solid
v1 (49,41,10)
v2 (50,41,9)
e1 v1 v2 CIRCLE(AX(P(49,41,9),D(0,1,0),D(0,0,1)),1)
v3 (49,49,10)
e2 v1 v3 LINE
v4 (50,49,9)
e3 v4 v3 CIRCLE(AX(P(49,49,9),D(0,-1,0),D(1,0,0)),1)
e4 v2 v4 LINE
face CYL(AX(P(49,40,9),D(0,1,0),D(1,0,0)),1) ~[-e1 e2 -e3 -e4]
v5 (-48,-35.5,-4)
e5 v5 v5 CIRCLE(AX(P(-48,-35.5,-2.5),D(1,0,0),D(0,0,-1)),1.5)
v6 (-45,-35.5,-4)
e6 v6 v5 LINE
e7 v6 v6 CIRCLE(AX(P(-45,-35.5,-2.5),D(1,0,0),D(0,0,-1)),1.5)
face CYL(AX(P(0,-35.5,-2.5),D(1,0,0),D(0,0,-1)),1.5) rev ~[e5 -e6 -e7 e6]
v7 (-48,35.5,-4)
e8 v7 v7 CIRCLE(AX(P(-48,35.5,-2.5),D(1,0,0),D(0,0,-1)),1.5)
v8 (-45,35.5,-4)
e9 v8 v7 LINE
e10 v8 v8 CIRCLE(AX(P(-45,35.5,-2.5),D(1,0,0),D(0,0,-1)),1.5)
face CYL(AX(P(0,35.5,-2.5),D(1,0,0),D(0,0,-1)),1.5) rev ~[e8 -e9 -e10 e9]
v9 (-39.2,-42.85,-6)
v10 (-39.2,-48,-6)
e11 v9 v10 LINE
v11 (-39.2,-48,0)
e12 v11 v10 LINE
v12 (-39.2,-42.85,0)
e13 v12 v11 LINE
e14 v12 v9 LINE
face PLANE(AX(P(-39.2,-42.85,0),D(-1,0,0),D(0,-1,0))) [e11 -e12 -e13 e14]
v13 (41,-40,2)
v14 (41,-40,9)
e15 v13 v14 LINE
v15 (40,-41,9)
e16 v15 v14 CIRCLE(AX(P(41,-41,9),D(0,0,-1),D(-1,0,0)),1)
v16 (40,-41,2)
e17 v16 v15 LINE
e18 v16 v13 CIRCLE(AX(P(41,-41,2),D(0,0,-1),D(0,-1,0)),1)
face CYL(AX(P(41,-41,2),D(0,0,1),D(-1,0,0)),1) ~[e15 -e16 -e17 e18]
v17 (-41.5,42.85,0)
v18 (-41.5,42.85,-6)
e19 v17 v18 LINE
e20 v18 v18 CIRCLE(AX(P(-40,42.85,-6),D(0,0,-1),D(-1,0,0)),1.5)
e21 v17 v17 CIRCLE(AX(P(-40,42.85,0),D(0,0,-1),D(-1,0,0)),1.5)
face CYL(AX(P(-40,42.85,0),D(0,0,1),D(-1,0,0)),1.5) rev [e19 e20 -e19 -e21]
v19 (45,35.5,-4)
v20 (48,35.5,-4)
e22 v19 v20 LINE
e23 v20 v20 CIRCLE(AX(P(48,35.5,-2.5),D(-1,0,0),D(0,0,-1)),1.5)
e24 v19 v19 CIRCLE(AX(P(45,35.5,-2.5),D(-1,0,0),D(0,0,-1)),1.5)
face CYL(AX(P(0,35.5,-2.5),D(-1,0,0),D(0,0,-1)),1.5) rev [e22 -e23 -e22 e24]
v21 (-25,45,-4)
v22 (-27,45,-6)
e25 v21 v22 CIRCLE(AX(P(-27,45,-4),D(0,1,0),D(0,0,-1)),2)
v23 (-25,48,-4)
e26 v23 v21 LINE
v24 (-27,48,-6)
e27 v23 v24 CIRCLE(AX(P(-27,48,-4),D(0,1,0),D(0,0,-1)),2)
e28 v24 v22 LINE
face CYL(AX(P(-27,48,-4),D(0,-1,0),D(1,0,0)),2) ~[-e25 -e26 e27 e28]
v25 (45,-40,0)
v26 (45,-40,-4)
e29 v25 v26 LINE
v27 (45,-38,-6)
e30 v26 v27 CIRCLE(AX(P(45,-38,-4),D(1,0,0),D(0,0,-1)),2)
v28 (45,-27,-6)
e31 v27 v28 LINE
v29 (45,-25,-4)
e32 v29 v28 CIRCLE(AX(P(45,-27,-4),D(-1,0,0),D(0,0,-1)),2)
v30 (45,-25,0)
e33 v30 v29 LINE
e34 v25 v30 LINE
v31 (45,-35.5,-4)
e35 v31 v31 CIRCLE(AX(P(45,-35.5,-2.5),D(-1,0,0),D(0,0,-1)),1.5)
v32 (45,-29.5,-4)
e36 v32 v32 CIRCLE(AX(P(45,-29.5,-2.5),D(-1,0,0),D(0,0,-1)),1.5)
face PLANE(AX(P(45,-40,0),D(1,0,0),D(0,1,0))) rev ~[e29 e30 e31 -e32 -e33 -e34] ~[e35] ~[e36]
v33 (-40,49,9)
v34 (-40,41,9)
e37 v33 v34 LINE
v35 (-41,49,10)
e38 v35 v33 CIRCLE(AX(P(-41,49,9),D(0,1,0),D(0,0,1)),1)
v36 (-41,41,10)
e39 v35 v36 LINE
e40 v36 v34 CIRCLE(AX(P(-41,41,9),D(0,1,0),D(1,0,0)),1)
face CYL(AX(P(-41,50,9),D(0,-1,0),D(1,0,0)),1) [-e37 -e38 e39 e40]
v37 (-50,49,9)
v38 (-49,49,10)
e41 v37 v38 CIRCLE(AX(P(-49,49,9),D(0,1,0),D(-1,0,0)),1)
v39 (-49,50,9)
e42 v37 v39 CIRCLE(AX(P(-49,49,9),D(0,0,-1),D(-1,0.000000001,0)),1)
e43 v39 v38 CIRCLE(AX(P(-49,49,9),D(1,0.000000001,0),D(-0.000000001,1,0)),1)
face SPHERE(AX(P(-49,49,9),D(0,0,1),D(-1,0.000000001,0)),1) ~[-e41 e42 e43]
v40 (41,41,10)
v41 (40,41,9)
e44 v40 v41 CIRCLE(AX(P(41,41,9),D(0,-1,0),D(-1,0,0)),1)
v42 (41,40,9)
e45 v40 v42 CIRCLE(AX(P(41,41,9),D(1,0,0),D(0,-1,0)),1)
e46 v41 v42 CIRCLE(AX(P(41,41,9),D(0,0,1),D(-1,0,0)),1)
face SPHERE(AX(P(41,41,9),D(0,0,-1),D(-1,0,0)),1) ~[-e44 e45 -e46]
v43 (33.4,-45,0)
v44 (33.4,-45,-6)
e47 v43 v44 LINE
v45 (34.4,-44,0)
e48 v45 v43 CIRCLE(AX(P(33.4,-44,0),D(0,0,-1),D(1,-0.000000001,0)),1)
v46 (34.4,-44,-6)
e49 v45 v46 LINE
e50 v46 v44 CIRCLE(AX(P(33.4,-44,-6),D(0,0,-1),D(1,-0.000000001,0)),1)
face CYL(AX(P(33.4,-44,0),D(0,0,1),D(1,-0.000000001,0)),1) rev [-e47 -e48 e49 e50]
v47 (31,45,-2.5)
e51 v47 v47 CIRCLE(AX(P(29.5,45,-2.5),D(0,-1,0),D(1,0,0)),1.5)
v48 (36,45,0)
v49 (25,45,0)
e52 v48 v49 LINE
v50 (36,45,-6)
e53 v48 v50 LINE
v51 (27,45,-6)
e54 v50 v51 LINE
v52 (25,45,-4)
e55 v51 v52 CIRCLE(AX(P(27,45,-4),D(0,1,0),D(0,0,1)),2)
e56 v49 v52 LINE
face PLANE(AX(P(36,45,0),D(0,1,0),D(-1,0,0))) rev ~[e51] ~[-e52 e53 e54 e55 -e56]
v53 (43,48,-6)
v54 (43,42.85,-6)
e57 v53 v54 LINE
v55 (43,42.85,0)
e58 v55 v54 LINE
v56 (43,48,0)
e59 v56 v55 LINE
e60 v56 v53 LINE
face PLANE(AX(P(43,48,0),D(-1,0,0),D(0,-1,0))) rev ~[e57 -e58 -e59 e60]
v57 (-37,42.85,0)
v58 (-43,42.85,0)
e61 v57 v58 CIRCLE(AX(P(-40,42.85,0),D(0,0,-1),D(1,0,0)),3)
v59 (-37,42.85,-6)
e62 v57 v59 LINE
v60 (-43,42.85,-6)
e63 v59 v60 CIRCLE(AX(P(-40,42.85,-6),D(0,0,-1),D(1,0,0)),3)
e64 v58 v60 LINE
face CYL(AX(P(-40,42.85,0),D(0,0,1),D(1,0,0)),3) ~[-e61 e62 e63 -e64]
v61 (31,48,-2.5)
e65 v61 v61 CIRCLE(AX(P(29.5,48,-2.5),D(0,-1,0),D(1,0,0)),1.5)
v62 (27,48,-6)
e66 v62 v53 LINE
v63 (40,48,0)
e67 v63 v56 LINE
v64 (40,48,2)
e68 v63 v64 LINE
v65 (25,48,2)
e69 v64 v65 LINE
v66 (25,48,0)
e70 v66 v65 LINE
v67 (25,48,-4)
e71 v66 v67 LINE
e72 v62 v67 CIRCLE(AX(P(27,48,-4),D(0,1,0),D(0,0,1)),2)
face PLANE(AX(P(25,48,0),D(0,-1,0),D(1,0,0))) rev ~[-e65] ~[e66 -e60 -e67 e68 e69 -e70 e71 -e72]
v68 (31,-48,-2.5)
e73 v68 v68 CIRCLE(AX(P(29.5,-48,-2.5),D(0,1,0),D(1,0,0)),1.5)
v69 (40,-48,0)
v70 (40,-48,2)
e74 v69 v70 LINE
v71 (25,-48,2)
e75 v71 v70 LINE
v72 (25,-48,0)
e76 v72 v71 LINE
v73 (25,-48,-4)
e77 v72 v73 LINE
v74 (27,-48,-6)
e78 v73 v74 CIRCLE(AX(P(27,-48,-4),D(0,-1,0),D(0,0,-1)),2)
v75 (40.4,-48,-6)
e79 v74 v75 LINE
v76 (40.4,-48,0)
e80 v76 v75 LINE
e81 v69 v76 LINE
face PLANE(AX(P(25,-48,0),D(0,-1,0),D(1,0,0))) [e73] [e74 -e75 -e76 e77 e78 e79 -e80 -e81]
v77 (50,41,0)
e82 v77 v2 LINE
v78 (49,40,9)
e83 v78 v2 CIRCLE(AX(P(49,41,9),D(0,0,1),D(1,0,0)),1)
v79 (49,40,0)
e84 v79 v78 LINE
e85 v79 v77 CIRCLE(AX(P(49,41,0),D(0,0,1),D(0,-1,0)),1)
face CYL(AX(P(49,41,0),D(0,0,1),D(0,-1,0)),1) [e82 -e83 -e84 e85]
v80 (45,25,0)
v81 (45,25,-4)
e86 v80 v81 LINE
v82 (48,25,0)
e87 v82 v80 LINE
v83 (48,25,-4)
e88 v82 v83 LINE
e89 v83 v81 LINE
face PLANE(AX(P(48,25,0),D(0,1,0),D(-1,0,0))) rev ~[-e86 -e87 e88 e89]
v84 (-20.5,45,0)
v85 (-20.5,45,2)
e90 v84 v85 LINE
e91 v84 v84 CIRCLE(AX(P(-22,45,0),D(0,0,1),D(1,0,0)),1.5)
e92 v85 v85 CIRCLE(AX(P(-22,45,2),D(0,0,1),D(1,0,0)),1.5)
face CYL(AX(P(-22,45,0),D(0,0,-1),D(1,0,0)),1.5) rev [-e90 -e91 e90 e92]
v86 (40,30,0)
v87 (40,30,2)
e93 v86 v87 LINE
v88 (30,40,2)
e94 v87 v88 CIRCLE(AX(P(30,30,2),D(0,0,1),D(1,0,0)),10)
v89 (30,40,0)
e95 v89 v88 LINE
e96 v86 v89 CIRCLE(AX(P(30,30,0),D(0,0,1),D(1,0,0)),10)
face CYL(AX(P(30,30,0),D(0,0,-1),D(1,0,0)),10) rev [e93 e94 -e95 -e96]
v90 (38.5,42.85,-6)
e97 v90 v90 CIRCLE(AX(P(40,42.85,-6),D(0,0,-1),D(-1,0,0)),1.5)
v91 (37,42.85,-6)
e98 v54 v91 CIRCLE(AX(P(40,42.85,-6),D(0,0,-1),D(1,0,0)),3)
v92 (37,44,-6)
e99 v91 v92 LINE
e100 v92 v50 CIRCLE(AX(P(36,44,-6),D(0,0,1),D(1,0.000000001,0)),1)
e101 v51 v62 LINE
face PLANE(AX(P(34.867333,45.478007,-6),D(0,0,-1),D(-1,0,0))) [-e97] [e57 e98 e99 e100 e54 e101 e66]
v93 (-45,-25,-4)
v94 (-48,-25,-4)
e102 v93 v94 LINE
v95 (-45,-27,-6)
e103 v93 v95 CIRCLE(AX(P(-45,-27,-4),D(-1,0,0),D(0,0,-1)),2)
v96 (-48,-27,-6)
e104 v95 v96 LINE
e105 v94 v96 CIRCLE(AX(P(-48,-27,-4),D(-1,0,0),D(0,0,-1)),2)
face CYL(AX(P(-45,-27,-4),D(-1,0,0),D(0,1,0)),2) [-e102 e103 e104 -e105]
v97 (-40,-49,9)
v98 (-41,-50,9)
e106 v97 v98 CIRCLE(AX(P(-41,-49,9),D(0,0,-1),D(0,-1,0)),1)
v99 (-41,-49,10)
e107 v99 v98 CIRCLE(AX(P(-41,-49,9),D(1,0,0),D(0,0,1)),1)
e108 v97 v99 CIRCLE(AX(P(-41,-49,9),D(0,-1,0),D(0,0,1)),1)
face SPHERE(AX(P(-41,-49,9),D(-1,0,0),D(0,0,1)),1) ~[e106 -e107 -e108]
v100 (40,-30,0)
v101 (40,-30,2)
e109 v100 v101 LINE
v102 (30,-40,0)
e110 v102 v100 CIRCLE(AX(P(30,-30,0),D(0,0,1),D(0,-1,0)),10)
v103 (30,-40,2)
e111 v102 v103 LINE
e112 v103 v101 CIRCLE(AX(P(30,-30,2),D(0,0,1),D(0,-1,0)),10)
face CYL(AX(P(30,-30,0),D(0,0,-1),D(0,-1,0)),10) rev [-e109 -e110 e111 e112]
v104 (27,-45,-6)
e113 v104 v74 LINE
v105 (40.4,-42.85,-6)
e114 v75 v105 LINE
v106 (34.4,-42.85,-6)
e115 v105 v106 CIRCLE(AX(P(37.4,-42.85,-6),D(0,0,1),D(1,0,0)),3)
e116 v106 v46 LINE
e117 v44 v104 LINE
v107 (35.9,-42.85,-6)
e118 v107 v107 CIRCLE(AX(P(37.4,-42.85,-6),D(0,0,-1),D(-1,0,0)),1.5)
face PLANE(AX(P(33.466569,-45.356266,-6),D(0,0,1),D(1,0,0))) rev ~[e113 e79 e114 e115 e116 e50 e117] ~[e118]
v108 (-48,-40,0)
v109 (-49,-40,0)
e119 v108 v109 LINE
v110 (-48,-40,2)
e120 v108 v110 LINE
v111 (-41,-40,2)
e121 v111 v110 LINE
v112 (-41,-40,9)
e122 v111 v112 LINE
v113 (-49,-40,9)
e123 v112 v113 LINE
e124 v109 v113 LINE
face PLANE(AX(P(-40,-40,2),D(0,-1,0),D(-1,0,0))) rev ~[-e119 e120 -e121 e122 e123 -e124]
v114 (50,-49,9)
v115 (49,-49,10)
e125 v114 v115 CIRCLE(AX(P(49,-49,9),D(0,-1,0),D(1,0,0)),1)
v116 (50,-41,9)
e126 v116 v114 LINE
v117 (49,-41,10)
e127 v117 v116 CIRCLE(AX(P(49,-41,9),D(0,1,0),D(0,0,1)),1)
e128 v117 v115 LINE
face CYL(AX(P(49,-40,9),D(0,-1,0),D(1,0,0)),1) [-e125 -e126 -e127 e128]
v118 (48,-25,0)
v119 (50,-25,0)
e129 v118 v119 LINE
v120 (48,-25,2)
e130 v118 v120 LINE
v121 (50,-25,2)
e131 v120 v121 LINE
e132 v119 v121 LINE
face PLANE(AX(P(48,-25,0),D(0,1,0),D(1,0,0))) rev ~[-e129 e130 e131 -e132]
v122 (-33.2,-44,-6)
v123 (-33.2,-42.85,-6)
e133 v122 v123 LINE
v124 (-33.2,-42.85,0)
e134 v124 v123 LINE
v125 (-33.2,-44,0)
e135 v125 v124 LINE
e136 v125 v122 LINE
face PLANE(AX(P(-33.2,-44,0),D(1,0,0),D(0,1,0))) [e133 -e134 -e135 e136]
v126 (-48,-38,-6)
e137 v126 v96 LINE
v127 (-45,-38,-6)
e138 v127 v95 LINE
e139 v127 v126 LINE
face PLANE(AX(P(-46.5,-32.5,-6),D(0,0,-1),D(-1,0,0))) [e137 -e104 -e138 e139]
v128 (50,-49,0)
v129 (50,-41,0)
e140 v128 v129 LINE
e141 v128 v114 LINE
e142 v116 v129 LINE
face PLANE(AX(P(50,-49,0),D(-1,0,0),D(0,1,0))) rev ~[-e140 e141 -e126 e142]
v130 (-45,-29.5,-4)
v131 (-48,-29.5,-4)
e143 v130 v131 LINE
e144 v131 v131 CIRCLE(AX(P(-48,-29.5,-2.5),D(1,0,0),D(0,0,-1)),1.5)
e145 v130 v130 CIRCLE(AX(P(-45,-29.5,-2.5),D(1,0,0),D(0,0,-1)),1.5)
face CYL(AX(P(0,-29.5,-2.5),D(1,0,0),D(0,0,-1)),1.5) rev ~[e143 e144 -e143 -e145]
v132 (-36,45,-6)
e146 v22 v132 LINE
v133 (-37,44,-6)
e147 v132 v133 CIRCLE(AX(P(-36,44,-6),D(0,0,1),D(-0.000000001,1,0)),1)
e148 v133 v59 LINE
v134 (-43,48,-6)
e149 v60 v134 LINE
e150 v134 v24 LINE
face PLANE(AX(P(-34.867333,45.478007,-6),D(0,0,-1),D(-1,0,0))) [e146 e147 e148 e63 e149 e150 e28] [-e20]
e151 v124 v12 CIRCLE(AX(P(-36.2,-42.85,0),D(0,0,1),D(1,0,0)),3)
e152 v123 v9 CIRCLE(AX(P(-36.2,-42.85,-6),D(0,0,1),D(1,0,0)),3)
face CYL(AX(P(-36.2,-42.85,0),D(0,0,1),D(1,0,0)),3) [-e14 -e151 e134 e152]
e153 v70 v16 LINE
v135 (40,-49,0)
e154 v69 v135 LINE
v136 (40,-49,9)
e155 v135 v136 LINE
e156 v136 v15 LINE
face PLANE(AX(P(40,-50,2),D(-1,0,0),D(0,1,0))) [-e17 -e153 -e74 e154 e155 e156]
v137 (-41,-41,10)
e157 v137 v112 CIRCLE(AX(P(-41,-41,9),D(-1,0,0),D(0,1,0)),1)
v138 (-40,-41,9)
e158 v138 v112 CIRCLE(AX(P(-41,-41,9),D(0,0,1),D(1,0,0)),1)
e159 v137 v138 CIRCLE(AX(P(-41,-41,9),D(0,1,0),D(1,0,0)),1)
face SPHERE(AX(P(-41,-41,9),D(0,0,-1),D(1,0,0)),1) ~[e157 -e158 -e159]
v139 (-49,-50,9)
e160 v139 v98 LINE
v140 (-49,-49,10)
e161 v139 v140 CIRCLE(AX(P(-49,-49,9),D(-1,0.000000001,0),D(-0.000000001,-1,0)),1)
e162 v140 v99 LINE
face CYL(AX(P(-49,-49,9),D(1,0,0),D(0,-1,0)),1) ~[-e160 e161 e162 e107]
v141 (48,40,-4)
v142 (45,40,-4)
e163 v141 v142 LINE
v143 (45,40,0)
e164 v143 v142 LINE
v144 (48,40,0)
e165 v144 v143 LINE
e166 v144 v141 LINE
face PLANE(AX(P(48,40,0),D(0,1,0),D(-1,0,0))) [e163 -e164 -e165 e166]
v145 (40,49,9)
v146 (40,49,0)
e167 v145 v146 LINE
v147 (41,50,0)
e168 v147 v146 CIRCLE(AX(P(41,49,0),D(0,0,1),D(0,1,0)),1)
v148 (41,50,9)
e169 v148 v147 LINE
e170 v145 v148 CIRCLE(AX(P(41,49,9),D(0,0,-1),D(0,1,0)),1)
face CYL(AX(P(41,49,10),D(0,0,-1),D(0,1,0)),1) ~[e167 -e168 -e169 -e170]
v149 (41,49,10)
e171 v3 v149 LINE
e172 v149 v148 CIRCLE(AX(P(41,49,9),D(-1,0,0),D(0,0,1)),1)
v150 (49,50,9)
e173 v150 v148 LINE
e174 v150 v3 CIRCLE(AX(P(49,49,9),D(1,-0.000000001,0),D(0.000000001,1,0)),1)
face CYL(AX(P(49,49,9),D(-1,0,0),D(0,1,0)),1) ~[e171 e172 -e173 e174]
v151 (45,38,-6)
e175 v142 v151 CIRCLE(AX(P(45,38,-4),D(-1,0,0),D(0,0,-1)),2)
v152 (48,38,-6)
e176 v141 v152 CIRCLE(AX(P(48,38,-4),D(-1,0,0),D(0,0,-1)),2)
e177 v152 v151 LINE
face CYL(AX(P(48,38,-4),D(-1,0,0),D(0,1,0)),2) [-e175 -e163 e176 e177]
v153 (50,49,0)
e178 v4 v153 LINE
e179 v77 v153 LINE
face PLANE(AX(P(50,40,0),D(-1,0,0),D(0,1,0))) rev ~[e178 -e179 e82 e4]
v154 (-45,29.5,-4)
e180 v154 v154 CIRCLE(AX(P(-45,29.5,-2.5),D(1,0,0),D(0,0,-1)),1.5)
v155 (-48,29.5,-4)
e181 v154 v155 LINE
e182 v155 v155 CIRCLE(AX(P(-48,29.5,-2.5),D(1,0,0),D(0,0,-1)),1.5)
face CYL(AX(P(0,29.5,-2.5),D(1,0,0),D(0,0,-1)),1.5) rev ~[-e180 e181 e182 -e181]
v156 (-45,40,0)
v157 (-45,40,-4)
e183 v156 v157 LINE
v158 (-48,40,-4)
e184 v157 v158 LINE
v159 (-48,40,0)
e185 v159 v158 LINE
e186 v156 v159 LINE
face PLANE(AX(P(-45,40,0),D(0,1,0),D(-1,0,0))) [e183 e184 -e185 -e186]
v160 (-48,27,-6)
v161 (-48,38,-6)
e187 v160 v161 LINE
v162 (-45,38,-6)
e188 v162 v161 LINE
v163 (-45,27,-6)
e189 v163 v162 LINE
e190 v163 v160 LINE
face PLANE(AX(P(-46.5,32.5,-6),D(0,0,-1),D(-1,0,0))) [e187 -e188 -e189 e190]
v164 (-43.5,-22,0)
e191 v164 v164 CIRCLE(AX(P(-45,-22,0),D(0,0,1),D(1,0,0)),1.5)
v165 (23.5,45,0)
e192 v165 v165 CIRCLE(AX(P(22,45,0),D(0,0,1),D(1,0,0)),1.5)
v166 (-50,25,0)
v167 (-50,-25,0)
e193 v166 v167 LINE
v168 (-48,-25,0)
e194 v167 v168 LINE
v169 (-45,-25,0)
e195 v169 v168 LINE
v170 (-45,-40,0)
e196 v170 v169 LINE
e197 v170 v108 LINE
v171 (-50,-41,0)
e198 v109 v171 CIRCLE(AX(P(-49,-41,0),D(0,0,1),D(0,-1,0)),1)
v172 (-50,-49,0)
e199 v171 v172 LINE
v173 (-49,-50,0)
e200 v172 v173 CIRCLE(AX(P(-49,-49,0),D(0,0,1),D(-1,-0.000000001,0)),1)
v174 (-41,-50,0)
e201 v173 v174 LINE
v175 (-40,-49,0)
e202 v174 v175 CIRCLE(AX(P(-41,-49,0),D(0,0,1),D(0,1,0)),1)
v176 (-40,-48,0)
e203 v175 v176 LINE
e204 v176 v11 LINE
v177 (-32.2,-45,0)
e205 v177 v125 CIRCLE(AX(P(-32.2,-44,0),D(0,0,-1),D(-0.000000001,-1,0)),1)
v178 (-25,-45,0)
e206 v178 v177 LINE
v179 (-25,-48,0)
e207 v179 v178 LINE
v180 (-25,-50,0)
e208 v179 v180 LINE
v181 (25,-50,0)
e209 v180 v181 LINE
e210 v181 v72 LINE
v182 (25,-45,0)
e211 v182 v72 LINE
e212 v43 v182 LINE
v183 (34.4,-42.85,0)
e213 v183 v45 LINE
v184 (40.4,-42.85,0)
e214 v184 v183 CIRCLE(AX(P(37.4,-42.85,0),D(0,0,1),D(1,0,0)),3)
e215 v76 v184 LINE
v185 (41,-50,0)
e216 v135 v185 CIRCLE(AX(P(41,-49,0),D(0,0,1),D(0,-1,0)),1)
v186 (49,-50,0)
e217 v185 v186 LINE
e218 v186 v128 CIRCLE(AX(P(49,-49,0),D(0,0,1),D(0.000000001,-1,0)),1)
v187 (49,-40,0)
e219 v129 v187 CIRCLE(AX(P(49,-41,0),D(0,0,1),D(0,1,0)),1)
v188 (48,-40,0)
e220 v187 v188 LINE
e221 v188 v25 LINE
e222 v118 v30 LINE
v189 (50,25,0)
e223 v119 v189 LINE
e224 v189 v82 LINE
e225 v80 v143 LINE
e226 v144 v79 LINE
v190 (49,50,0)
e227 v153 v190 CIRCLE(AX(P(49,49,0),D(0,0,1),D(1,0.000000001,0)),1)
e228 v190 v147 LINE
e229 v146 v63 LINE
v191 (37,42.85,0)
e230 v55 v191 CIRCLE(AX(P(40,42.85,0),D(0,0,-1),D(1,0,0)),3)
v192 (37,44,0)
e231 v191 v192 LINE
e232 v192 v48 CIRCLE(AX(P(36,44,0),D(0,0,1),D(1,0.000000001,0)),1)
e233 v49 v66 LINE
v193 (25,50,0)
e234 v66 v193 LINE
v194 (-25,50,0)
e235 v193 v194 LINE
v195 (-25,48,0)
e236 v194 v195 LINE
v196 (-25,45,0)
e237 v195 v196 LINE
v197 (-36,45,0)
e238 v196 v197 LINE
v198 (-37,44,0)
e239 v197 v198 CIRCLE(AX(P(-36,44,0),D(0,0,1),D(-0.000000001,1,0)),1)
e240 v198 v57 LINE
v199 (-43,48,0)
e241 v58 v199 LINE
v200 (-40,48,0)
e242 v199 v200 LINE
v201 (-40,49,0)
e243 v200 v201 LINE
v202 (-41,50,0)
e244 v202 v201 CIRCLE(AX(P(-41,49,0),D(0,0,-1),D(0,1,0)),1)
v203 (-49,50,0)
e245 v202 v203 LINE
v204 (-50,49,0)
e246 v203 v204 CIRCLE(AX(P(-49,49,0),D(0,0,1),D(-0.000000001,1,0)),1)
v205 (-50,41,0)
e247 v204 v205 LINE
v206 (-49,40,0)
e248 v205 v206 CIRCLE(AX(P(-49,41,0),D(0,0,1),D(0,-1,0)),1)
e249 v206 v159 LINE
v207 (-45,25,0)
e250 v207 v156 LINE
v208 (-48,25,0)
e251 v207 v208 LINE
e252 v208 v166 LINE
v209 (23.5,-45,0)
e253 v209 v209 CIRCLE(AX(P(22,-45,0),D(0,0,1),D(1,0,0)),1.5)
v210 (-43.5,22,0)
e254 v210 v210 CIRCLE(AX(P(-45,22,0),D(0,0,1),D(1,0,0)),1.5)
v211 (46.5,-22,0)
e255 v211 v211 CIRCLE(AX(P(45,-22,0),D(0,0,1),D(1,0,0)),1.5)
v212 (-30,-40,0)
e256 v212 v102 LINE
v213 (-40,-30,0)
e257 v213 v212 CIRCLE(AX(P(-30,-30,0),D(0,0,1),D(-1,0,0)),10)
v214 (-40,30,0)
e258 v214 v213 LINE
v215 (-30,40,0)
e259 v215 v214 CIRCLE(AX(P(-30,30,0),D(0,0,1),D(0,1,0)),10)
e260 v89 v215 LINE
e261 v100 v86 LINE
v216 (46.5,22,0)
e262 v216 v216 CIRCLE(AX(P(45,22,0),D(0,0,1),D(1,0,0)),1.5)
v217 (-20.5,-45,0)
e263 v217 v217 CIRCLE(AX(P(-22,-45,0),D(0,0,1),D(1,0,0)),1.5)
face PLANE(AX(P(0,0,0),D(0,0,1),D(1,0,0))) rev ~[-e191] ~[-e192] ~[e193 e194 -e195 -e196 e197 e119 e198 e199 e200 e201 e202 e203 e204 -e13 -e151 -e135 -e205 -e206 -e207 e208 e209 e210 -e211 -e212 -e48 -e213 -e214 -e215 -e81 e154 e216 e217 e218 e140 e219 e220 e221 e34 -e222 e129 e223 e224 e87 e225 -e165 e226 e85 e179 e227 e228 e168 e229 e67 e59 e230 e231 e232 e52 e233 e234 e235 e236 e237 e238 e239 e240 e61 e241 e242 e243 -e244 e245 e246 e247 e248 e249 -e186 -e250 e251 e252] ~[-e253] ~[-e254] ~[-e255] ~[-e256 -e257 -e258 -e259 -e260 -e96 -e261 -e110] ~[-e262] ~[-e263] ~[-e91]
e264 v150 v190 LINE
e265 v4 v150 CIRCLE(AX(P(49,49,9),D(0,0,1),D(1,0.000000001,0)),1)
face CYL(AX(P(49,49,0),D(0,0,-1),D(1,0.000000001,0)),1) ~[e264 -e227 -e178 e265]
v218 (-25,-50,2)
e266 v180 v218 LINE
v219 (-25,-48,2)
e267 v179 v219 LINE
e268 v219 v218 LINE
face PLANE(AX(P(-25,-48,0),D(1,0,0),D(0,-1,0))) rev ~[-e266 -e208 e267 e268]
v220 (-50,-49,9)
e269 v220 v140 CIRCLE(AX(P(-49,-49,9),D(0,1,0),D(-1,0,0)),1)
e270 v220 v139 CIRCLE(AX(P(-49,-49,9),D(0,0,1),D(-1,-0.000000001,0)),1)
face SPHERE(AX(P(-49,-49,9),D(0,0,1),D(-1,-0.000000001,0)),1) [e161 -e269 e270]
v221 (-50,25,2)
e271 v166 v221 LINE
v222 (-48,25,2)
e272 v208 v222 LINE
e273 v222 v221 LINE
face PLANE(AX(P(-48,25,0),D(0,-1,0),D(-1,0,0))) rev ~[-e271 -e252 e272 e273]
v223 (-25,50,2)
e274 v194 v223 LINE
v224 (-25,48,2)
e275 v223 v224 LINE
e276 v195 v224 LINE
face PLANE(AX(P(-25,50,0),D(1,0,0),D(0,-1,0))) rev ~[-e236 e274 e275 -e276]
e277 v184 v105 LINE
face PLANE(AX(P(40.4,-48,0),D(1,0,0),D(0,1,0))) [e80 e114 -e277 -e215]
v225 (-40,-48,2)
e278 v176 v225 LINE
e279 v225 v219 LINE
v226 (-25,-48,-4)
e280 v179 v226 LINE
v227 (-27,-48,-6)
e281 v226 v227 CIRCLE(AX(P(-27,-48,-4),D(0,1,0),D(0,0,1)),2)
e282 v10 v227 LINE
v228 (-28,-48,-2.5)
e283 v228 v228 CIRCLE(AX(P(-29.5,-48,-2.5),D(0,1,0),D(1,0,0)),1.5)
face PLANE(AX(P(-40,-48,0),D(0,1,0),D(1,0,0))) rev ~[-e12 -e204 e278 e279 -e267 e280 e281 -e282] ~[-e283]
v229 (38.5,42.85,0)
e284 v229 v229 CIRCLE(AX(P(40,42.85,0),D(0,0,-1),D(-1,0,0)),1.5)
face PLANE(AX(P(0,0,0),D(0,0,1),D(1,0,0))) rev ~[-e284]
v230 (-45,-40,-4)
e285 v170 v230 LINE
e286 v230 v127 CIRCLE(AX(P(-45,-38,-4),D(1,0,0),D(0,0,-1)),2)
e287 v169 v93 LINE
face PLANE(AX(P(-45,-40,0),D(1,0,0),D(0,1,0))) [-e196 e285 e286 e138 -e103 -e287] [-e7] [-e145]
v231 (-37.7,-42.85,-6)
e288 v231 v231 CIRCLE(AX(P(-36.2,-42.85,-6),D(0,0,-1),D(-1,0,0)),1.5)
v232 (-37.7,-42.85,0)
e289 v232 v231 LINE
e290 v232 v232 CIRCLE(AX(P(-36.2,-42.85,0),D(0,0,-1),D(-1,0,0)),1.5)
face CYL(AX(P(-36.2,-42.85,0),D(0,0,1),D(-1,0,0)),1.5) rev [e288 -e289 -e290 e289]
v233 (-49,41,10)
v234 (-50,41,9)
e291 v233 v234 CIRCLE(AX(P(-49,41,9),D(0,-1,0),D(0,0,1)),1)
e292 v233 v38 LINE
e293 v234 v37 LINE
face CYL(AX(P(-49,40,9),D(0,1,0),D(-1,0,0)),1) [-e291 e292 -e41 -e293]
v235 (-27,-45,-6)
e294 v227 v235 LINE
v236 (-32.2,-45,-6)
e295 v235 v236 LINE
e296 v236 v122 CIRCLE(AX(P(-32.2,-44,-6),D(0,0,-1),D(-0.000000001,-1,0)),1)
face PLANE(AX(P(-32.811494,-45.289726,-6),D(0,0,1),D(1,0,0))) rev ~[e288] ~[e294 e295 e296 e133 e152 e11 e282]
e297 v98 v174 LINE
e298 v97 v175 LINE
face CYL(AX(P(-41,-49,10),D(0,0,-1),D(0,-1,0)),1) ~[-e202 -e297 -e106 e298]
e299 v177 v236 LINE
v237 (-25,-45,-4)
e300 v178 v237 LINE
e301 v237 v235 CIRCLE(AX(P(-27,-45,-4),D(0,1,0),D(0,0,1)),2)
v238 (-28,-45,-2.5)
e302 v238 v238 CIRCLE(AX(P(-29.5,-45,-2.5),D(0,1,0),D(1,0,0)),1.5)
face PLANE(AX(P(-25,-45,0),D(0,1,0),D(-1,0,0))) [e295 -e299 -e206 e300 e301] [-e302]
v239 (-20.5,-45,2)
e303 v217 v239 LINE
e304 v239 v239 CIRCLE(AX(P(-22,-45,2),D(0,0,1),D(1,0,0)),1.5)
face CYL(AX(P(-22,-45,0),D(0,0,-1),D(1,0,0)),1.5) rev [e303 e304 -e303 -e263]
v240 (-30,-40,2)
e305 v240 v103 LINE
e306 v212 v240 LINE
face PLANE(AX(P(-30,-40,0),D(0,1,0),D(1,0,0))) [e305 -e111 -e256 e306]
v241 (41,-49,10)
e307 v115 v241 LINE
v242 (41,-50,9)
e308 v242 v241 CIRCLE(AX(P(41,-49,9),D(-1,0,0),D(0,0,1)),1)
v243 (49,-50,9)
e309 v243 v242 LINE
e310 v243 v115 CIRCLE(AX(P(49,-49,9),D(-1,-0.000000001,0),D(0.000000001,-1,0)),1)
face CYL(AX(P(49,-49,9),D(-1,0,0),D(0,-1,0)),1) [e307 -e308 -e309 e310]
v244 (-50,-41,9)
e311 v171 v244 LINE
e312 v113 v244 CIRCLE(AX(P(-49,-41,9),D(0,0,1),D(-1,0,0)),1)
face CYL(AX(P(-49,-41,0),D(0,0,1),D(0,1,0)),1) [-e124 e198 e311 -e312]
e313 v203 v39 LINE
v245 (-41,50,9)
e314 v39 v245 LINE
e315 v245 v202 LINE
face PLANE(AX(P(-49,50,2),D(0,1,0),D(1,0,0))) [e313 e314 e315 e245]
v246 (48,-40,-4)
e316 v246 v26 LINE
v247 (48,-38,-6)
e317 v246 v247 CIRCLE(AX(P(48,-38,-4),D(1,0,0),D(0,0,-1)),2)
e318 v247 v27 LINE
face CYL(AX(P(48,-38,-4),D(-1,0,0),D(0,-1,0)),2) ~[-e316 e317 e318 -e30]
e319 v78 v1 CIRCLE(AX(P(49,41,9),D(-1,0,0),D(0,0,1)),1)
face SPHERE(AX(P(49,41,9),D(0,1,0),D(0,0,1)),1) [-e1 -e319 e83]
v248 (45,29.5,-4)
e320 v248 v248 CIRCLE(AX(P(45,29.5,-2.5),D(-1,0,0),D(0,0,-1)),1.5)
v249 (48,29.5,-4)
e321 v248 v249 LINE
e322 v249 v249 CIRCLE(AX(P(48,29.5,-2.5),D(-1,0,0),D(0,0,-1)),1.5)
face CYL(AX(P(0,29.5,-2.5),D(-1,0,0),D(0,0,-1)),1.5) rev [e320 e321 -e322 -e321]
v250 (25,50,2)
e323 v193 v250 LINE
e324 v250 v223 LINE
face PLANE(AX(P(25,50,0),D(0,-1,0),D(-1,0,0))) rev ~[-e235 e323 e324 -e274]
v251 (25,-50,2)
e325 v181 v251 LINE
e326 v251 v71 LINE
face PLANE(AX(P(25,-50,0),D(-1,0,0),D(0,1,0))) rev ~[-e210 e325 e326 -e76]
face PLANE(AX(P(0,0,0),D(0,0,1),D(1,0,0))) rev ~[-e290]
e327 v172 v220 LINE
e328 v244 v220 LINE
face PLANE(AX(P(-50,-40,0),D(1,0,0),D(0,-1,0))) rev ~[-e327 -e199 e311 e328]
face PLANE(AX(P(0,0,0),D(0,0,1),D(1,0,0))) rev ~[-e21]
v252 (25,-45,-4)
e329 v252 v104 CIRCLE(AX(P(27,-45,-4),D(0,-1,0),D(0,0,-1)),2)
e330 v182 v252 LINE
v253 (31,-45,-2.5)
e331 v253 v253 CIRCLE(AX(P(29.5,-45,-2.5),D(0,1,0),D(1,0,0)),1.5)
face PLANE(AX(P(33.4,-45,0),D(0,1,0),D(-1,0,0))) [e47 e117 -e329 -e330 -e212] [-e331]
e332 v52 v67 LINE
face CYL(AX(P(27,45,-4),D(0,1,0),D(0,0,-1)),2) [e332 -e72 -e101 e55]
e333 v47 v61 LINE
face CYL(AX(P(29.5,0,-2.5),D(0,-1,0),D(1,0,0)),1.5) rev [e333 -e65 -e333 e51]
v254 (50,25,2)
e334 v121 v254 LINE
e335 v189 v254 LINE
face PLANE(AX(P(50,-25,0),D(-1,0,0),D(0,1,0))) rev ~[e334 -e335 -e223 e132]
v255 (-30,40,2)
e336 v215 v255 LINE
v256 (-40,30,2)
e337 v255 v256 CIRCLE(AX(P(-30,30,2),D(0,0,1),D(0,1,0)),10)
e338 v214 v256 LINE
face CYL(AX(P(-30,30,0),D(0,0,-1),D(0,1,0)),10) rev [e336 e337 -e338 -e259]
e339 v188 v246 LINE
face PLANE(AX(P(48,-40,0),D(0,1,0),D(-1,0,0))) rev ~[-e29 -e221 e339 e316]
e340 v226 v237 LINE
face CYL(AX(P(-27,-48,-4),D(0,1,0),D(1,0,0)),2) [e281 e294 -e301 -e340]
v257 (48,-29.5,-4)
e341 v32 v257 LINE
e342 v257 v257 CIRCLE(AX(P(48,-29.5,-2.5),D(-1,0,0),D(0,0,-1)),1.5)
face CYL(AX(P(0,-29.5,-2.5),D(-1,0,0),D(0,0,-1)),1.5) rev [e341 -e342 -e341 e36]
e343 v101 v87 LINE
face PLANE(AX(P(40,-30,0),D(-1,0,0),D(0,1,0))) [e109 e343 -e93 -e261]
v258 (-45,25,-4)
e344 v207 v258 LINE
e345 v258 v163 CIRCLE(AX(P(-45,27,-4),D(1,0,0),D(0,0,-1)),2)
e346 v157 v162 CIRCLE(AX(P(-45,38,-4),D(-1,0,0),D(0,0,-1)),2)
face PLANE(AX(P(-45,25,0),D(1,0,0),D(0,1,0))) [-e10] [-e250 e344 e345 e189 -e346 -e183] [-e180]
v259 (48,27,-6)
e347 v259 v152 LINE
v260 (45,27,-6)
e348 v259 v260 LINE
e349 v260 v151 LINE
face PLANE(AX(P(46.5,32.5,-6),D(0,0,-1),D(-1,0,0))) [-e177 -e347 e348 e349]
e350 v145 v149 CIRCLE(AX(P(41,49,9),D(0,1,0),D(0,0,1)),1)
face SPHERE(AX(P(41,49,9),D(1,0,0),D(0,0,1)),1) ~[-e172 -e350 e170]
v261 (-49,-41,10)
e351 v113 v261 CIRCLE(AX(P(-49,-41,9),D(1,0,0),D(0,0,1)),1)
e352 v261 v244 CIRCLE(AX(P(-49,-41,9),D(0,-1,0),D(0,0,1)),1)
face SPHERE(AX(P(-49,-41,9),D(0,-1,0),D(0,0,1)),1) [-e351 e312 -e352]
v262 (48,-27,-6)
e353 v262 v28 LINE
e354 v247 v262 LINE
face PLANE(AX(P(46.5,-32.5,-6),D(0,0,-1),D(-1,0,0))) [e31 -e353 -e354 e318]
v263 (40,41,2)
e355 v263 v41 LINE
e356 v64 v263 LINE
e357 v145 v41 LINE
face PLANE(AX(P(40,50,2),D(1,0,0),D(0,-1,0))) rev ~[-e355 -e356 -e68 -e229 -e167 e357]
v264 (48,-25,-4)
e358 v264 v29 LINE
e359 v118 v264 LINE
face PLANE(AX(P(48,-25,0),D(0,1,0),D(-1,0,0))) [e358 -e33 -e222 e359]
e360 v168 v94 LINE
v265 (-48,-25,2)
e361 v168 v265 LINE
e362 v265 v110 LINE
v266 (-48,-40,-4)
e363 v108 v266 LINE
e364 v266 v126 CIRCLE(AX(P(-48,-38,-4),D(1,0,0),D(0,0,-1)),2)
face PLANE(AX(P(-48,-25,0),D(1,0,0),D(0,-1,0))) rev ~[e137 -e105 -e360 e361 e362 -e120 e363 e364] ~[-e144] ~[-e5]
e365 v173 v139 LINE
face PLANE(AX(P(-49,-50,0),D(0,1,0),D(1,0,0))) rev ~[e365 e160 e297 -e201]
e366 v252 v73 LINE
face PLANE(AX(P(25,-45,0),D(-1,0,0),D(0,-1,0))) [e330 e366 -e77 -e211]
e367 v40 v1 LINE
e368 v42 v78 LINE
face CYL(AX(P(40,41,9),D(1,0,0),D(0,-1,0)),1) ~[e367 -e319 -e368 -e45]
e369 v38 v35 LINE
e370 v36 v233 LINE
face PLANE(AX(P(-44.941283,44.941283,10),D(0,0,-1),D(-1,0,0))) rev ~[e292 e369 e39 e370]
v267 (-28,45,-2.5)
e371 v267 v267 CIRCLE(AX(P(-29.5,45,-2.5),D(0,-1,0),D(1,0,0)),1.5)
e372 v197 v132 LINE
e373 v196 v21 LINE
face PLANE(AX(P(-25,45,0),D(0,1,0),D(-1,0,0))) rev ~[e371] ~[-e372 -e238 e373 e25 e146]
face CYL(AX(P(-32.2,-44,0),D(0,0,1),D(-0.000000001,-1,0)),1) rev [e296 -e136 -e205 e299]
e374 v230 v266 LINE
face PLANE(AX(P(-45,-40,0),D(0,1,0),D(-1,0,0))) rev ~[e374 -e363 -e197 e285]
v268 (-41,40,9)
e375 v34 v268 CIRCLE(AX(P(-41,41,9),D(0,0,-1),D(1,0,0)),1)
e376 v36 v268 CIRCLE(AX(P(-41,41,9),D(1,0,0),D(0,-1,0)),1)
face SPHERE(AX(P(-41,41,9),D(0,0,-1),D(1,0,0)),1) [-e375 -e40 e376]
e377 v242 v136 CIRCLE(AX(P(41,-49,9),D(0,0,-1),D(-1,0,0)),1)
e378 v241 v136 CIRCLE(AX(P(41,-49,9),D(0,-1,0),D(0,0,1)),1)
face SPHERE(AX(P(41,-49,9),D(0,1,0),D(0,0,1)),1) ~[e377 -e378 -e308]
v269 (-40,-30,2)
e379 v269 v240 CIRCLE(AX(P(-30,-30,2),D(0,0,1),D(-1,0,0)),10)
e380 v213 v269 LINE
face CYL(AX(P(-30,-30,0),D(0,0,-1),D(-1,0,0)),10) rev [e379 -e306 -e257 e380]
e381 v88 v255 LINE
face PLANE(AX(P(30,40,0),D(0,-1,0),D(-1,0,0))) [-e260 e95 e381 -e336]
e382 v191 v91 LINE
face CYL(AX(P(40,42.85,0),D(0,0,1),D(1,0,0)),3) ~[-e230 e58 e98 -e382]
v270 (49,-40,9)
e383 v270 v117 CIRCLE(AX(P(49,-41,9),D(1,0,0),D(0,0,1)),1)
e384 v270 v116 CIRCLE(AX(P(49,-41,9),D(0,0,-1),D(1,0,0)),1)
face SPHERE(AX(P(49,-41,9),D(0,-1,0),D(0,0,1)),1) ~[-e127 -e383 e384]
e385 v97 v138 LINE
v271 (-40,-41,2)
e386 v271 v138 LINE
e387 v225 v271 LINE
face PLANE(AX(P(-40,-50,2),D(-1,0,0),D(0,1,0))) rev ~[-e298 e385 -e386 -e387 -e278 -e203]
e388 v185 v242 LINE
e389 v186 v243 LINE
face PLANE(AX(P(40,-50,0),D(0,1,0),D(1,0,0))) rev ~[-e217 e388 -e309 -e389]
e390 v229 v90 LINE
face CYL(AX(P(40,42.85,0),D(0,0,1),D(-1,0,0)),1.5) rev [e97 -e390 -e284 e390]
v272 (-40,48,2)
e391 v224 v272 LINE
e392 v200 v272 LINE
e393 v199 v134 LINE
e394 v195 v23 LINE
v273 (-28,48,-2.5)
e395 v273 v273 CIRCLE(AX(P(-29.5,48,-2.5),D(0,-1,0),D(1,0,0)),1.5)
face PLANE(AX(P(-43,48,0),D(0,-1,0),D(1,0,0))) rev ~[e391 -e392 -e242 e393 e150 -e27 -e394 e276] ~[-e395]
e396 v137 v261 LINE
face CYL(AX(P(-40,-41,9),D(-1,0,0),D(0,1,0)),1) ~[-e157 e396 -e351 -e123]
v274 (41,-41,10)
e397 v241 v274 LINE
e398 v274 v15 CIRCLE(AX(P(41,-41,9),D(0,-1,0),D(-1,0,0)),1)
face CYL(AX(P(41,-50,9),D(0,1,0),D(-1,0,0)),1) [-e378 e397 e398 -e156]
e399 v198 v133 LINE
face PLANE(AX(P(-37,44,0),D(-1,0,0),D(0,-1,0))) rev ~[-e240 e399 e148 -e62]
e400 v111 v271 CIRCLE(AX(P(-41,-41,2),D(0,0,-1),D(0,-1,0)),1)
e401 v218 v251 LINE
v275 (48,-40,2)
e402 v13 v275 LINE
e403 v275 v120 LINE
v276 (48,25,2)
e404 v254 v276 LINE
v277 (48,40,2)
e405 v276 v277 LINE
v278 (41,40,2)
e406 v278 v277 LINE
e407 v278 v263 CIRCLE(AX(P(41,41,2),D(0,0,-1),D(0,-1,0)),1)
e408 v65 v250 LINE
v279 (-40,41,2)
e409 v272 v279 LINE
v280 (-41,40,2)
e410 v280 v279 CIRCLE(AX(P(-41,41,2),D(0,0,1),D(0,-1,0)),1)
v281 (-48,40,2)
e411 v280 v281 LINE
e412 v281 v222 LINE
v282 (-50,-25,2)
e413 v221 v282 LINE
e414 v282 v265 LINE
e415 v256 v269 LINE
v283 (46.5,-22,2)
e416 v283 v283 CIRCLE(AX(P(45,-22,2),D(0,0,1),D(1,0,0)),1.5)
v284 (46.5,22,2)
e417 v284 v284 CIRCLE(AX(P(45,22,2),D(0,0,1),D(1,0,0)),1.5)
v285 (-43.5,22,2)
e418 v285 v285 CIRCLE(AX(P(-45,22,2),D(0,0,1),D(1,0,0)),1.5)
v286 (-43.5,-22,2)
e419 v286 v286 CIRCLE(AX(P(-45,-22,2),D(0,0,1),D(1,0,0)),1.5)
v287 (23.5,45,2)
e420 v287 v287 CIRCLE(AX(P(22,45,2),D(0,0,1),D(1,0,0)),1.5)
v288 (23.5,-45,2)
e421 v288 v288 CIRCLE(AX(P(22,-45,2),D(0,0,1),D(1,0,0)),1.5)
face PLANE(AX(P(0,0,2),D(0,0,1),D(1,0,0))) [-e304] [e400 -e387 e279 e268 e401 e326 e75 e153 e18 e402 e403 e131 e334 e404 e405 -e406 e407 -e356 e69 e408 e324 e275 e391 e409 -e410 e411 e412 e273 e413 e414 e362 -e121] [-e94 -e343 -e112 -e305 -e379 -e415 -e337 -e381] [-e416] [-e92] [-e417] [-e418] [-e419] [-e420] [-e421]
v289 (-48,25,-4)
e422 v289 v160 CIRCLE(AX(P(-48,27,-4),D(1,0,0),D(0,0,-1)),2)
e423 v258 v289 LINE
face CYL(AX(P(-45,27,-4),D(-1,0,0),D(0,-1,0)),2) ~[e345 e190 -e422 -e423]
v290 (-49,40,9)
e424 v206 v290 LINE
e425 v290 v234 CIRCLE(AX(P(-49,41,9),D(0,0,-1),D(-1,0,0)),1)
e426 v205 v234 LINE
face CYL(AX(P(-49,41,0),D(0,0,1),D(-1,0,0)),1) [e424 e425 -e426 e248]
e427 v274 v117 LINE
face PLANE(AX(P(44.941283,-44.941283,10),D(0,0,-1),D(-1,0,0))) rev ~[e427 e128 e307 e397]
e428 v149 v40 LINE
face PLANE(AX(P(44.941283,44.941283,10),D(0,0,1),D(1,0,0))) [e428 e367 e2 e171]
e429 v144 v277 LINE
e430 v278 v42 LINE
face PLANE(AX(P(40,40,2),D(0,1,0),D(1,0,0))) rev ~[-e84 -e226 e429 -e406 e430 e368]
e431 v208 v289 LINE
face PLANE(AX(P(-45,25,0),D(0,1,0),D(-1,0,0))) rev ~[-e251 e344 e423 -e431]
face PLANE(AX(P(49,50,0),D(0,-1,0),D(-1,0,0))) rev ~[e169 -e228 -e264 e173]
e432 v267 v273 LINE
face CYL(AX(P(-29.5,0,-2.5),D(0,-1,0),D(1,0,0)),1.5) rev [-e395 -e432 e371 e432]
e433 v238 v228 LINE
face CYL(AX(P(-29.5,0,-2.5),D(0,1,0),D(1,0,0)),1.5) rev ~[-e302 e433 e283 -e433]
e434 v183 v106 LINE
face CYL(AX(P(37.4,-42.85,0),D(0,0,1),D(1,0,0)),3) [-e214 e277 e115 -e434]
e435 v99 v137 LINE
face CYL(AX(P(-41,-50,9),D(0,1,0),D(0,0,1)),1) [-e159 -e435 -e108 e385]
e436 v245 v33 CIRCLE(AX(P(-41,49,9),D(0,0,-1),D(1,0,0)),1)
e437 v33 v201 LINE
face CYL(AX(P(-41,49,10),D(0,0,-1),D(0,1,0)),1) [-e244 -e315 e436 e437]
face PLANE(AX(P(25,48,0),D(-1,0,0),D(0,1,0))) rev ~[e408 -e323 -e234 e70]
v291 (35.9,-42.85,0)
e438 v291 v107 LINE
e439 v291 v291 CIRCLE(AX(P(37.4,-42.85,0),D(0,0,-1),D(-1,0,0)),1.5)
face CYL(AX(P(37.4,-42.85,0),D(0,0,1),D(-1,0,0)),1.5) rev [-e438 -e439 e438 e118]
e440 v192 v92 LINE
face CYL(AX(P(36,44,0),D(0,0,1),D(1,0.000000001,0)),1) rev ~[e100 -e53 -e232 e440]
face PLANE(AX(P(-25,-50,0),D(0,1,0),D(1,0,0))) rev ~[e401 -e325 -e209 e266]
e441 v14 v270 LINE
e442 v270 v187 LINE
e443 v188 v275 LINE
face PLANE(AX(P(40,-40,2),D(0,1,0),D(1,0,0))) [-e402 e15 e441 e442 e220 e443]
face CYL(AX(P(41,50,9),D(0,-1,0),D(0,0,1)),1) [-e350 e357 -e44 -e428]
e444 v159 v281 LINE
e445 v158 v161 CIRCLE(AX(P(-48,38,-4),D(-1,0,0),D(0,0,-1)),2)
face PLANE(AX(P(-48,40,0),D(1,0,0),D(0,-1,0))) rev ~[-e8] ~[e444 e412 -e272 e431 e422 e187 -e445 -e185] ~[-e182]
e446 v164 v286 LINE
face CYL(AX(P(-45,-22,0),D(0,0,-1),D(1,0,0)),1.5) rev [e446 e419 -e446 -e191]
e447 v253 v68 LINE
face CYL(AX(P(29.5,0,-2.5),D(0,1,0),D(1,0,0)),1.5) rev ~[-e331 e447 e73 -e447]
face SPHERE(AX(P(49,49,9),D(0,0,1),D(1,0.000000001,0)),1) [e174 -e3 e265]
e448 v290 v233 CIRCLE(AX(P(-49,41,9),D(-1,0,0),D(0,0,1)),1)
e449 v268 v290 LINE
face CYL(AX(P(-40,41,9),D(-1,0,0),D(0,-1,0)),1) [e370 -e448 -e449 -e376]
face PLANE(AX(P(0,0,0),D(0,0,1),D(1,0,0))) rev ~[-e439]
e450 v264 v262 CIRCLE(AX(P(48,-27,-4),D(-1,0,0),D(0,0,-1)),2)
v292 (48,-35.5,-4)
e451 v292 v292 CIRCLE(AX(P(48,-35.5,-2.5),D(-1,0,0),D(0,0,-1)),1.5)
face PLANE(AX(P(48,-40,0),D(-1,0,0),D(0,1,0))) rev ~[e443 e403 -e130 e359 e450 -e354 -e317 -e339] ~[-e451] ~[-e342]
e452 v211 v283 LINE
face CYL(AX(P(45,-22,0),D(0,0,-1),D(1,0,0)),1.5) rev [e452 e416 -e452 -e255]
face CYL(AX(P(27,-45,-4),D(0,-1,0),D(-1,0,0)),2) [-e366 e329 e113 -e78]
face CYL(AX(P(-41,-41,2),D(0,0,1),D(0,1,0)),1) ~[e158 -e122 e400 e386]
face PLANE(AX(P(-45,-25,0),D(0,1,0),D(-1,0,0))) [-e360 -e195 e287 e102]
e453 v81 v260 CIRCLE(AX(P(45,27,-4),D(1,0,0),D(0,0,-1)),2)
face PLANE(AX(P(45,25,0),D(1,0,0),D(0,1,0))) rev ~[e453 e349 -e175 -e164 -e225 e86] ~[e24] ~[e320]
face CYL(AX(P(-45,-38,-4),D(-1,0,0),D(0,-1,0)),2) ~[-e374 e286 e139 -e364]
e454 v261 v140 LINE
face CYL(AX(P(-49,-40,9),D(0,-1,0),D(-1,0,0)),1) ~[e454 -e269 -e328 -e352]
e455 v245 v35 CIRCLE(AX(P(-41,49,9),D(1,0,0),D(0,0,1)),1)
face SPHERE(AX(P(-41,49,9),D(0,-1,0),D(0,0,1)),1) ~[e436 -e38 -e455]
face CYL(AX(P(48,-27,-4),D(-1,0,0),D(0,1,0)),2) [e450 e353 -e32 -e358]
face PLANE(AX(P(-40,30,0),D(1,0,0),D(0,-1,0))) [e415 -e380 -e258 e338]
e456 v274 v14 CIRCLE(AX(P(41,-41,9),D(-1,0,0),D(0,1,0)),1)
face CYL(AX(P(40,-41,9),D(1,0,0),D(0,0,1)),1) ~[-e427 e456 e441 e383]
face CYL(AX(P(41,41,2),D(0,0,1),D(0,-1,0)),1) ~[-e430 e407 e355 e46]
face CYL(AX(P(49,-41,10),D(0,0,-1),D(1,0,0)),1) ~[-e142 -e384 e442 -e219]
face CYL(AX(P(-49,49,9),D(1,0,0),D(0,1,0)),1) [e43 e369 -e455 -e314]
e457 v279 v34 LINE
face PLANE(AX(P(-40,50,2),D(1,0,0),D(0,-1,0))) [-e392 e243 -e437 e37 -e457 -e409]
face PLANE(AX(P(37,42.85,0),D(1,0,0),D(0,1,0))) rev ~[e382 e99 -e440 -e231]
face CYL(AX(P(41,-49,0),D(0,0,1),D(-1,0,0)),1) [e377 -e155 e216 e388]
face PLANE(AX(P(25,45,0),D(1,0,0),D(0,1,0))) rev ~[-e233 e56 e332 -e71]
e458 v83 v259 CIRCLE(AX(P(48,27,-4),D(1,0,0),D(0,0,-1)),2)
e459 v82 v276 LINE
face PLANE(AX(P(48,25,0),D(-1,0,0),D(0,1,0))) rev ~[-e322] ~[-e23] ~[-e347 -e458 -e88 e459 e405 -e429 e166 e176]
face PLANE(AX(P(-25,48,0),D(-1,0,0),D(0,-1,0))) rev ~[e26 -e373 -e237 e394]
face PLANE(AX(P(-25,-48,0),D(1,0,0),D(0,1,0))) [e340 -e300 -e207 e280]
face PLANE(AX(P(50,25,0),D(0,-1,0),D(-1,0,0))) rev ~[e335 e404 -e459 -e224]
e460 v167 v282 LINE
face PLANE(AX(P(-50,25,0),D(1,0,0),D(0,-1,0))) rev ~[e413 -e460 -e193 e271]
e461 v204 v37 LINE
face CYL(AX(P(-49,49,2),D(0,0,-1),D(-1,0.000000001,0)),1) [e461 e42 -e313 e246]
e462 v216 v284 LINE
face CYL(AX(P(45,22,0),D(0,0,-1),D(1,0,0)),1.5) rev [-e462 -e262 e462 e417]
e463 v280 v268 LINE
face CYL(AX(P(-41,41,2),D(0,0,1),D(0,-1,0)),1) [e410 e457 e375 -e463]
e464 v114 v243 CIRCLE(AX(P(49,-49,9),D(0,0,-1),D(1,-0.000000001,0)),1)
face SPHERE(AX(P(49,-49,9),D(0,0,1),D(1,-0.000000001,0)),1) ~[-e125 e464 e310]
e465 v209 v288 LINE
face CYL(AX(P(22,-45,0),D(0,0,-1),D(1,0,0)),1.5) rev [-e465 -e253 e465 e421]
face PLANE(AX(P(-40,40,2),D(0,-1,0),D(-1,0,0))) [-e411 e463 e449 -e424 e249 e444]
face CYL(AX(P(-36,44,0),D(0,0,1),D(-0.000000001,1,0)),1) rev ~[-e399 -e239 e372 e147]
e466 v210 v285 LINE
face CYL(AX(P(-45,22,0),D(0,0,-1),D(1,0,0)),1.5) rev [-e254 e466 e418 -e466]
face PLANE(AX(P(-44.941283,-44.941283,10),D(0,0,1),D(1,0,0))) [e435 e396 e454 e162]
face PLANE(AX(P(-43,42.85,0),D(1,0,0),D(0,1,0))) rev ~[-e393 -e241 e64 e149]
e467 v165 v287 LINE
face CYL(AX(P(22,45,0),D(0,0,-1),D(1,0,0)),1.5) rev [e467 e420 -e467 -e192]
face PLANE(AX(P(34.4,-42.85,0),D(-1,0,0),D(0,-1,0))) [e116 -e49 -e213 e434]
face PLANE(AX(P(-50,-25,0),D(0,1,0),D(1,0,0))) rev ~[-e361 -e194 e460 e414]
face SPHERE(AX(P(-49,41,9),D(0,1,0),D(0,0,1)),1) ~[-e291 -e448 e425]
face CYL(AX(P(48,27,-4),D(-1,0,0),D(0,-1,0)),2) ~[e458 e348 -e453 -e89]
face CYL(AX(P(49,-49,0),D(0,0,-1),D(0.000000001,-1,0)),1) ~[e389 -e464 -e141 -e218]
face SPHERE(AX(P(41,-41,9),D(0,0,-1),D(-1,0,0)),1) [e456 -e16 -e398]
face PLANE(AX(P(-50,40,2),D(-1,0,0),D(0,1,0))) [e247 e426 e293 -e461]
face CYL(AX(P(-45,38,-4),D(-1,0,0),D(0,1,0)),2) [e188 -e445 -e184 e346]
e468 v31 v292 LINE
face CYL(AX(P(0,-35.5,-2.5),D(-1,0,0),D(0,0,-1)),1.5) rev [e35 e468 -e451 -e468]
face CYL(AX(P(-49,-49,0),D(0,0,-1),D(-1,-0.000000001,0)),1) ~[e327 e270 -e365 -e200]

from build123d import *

# Parameters (mm, degrees)
SKETCH1_R               = 1.5
BOSS_EXTRUDE1_DEPTH     = 2
BOSS_EXTRUDE3_DEPTH     = 8
FILLET2_R               = 1
SKETCH6_R               = 1.5
SKETCH6_W               = 3
SKETCH6_H               = 15
BOSS_EXTRUDE5_DEPTH     = 6
FILLET3_R               = 2
SKETCH7_R               = 1.5
CUT_EXTRUDE1_DEPTH      = 51
CUT_EXTRUDE1_DEPTH_BACK = 51
SKETCH8_R               = 1.5
CUT_EXTRUDE2_DEPTH      = 51
CUT_EXTRUDE2_DEPTH_BACK = 51


with BuildPart() as part:
    # Sketch1 → Boss-Extrude1 (new body)
    with BuildSketch(Plane.XY):
        with BuildLine():
            Line((-50, 40), (-48, 40))
            Line((-48, 40), (-48, 25))
            Line((-48, 25), (-50, 25))
            Line((-50, 25), (-50, -25))
            Line((-50, -25), (-48, -25))
            Line((-48, -25), (-48, -40))
            Line((-48, -40), (-50, -40))
            Line((-50, -40), (-50, -49))
            ThreePointArc((-50, -49), (-49.707106781, -49.707106781), (-49, -50))
            Line((-49, -50), (-40, -50))
            Line((-40, -50), (-40, -48))
            Line((-40, -48), (-25, -48))
            Line((-25, -48), (-25, -50))
            Line((-25, -50), (25, -50))
            Line((25, -50), (25, -48))
            Line((25, -48), (40, -48))
            Line((40, -48), (40, -50))
            Line((40, -50), (49, -50))
            ThreePointArc((49, -50), (49.707106781, -49.707106781), (50, -49))
            Line((50, -49), (50, -40))
            Line((50, -40), (48, -40))
            Line((48, -40), (48, -25))
            Line((48, -25), (50, -25))
            Line((50, -25), (50, 25))
            Line((50, 25), (48, 25))
            Line((48, 25), (48, 40))
            Line((48, 40), (50, 40))
            Line((50, 40), (50, 49))
            ThreePointArc((50, 49), (49.707106781, 49.707106781), (49, 50))
            Line((49, 50), (40, 50))
            Line((40, 50), (40, 48))
            Line((40, 48), (25, 48))
            Line((25, 48), (25, 50))
            Line((25, 50), (-25, 50))
            Line((-25, 50), (-25, 48))
            Line((-25, 48), (-40, 48))
            Line((-40, 48), (-40, 50))
            Line((-40, 50), (-49, 50))
            ThreePointArc((-49, 50), (-49.707106781, 49.707106781), (-50, 49))
            Line((-50, 49), (-50, 40))
        make_face()
        with Locations((-45, 22)):
            Circle(SKETCH1_R, mode=Mode.SUBTRACT)
        with Locations((-22, 45)):
            Circle(SKETCH1_R, mode=Mode.SUBTRACT)
        with Locations((22, 45)):
            Circle(SKETCH1_R, mode=Mode.SUBTRACT)
        with Locations((45, 22)):
            Circle(SKETCH1_R, mode=Mode.SUBTRACT)
        with Locations((45, -22)):
            Circle(SKETCH1_R, mode=Mode.SUBTRACT)
        with Locations((22, -45)):
            Circle(SKETCH1_R, mode=Mode.SUBTRACT)
        with Locations((-22, -45)):
            Circle(SKETCH1_R, mode=Mode.SUBTRACT)
        with Locations((-45, -22)):
            Circle(SKETCH1_R, mode=Mode.SUBTRACT)
        with BuildLine():
            Line((-30, -40), (30, -40))
            ThreePointArc((30, -40), (37.071067812, -37.071067812), (40, -30))
            Line((40, -30), (40, 30))
            ThreePointArc((40, 30), (37.071067812, 37.071067812), (30, 40))
            Line((30, 40), (-30, 40))
            ThreePointArc((-30, 40), (-37.071067812, 37.071067812), (-40, 30))
            Line((-40, 30), (-40, -30))
            ThreePointArc((-40, -30), (-37.071067812, -37.071067812), (-30, -40))
        make_face(mode=Mode.SUBTRACT)
    extrude(amount=BOSS_EXTRUDE1_DEPTH)

    # Sketch2 → Boss-Extrude3 (add)
    with BuildSketch(Plane.XY.offset(2)):
        with BuildLine():
            Line((-49, 50), (-40, 50))
            Line((-40, 50), (-40, 40))
            Line((-40, 40), (-50, 40))
            Line((-50, 40), (-50, 49))
            ThreePointArc((-50, 49), (-49.707106781, 49.707106781), (-49, 50))
        make_face()
        with BuildLine():
            Line((40, 50), (40, 40))
            Line((40, 40), (50, 40))
            Line((50, 40), (50, 49))
            ThreePointArc((50, 49), (49.707106781, 49.707106781), (49, 50))
            Line((49, 50), (40, 50))
        make_face()
        with BuildLine():
            Line((49, -50), (40, -50))
            Line((40, -50), (40, -40))
            Line((40, -40), (50, -40))
            Line((50, -40), (50, -49))
            ThreePointArc((50, -49), (49.707106781, -49.707106781), (49, -50))
        make_face()
        with BuildLine():
            Line((-40, -50), (-40, -40))
            Line((-40, -40), (-50, -40))
            Line((-50, -40), (-50, -49))
            ThreePointArc((-50, -49), (-49.707106781, -49.707106781), (-49, -50))
            Line((-49, -50), (-40, -50))
        make_face()
    extrude(amount=BOSS_EXTRUDE3_DEPTH)

    # Fillet2
    fillet2_edges = [part.edges().sort_by_distance(p)[0] for p in [
        (-40, 40, 6),
        (-40, 45, 10),
        (-44.5, 50, 10),
        (-49.707106781, 49.707106781, 10),
        (-50, 44.5, 10),
        (-45, 40, 10),
        (40, 40, 6),
        (50, 44.5, 10),
        (49.707106781, 49.707106781, 10),
        (44.5, 50, 10),
        (40, 45, 10),
        (45, 40, 10),
        (40, -40, 6),
        (40, -45, 10),
        (44.5, -50, 10),
        (49.707106781, -49.707106781, 10),
        (50, -44.5, 10),
        (45, -40, 10),
        (-40, -40, 6),
        (-50, -44.5, 10),
        (-49.707106781, -49.707106781, 10),
        (-44.5, -50, 10),
        (-40, -45, 10),
        (-45, -40, 10),
        (-50, -40, 5),
        (-50, 40, 5),
        (-40, 50, 5),
        (40, 50, 5),
        (50, 40, 5),
        (50, -40, 5),
        (40, -50, 5),
        (-40, -50, 5),
    ]]
    fillet(fillet2_edges, radius=FILLET2_R)

    # Sketch6 → Boss-Extrude5 (add)
    with BuildSketch(Plane(origin=(0, 0, 0), x_dir=(-1, 0, 0), z_dir=(0, 0, -1))):
        with BuildLine():
            Line((-43, 48), (-43, 42.85))
            ThreePointArc((-43, 42.85), (-40, 39.85), (-37, 42.85))
            Line((-37, 42.85), (-37, 44))
            ThreePointArc((-37, 44), (-36.707106781, 44.707106781), (-36, 45))
            Line((-36, 45), (-25, 45))
            Line((-25, 45), (-25, 48))
            Line((-25, 48), (-43, 48))
        make_face()
        with Locations((-40, 42.85)):
            Circle(SKETCH6_R, mode=Mode.SUBTRACT)
        with BuildLine():
            Line((25, 48), (25, 45))
            Line((25, 45), (36, 45))
            ThreePointArc((36, 45), (36.707106781, 44.707106781), (37, 44))
            Line((37, 44), (37, 42.85))
            ThreePointArc((37, 42.85), (40, 39.85), (43, 42.85))
            Line((43, 42.85), (43, 48))
            Line((43, 48), (25, 48))
        make_face()
        with Locations((40, 42.85)):
            Circle(SKETCH6_R, mode=Mode.SUBTRACT)
        with BuildLine():
            Line((-40.4, -48), (-40.4, -42.85))
            ThreePointArc((-40.4, -42.85), (-37.4, -39.85), (-34.4, -42.85))
            Line((-34.4, -42.85), (-34.4, -44))
            ThreePointArc((-34.4, -44), (-34.107106781, -44.707106781), (-33.4, -45))
            Line((-33.4, -45), (-25, -45))
            Line((-25, -45), (-25, -48))
            Line((-25, -48), (-40.4, -48))
        make_face()
        with Locations((-37.4, -42.85)):
            Circle(SKETCH6_R, mode=Mode.SUBTRACT)
        with BuildLine():
            Line((25, -48), (25, -45))
            Line((25, -45), (32.2, -45))
            ThreePointArc((32.2, -45), (32.907106781, -44.707106781), (33.2, -44))
            Line((33.2, -44), (33.2, -42.85))
            ThreePointArc((33.2, -42.85), (36.2, -39.85), (39.2, -42.85))
            Line((39.2, -42.85), (39.2, -48))
            Line((39.2, -48), (25, -48))
        make_face()
        with Locations((36.2, -42.85)):
            Circle(SKETCH6_R, mode=Mode.SUBTRACT)
        with Locations((-46.5, 32.5)):
            Rectangle(SKETCH6_W, SKETCH6_H)
        with Locations((46.5, 32.5)):
            Rectangle(SKETCH6_W, SKETCH6_H)
        with Locations((-46.5, -32.5)):
            Rectangle(SKETCH6_W, SKETCH6_H)
        with Locations((46.5, -32.5)):
            Rectangle(SKETCH6_W, SKETCH6_H)
    extrude(amount=BOSS_EXTRUDE5_DEPTH)

    # Fillet3
    fillet3_edges = [part.edges().sort_by_distance(p)[0] for p in [
        (25, 46.5, -6),
        (-25, 46.5, -6),
        (25, -46.5, -6),
        (-25, -46.5, -6),
        (46.5, 25, -6),
        (46.5, 40, -6),
        (-46.5, 40, -6),
        (-46.5, 25, -6),
        (46.5, -40, -6),
        (46.5, -25, -6),
        (-46.5, -25, -6),
        (-46.5, -40, -6),
    ]]
    fillet(fillet3_edges, radius=FILLET3_R)

    # Sketch7 → Cut-Extrude1 (cut, two sides)
    with BuildSketch(Plane(origin=(0, 0, 0), x_dir=(0, 0, -1), z_dir=(1, 0, 0))) as cut_extrude1_sk:
        with Locations((2.5, 35.5)):
            Circle(SKETCH7_R)
        with Locations((2.5, 29.5)):
            Circle(SKETCH7_R)
        with Locations((2.5, -29.5)):
            Circle(SKETCH7_R)
        with Locations((2.5, -35.5)):
            Circle(SKETCH7_R)
    extrude(amount=CUT_EXTRUDE1_DEPTH, mode=Mode.SUBTRACT)
    extrude(cut_extrude1_sk.sketch, amount=-CUT_EXTRUDE1_DEPTH_BACK, mode=Mode.SUBTRACT)

    # Sketch8 → Cut-Extrude2 (cut, two sides)
    with BuildSketch(Plane(origin=(0, 0, 0), x_dir=(1, 0, 0), z_dir=(0, 1, 0))) as cut_extrude2_sk:
        with Locations((-29.5, 2.5)):
            Circle(SKETCH8_R)
        with Locations((29.5, 2.5)):
            Circle(SKETCH8_R)
    extrude(amount=CUT_EXTRUDE2_DEPTH, mode=Mode.SUBTRACT)
    extrude(cut_extrude2_sk.sketch, amount=-CUT_EXTRUDE2_DEPTH_BACK, mode=Mode.SUBTRACT)


solid = part.part
